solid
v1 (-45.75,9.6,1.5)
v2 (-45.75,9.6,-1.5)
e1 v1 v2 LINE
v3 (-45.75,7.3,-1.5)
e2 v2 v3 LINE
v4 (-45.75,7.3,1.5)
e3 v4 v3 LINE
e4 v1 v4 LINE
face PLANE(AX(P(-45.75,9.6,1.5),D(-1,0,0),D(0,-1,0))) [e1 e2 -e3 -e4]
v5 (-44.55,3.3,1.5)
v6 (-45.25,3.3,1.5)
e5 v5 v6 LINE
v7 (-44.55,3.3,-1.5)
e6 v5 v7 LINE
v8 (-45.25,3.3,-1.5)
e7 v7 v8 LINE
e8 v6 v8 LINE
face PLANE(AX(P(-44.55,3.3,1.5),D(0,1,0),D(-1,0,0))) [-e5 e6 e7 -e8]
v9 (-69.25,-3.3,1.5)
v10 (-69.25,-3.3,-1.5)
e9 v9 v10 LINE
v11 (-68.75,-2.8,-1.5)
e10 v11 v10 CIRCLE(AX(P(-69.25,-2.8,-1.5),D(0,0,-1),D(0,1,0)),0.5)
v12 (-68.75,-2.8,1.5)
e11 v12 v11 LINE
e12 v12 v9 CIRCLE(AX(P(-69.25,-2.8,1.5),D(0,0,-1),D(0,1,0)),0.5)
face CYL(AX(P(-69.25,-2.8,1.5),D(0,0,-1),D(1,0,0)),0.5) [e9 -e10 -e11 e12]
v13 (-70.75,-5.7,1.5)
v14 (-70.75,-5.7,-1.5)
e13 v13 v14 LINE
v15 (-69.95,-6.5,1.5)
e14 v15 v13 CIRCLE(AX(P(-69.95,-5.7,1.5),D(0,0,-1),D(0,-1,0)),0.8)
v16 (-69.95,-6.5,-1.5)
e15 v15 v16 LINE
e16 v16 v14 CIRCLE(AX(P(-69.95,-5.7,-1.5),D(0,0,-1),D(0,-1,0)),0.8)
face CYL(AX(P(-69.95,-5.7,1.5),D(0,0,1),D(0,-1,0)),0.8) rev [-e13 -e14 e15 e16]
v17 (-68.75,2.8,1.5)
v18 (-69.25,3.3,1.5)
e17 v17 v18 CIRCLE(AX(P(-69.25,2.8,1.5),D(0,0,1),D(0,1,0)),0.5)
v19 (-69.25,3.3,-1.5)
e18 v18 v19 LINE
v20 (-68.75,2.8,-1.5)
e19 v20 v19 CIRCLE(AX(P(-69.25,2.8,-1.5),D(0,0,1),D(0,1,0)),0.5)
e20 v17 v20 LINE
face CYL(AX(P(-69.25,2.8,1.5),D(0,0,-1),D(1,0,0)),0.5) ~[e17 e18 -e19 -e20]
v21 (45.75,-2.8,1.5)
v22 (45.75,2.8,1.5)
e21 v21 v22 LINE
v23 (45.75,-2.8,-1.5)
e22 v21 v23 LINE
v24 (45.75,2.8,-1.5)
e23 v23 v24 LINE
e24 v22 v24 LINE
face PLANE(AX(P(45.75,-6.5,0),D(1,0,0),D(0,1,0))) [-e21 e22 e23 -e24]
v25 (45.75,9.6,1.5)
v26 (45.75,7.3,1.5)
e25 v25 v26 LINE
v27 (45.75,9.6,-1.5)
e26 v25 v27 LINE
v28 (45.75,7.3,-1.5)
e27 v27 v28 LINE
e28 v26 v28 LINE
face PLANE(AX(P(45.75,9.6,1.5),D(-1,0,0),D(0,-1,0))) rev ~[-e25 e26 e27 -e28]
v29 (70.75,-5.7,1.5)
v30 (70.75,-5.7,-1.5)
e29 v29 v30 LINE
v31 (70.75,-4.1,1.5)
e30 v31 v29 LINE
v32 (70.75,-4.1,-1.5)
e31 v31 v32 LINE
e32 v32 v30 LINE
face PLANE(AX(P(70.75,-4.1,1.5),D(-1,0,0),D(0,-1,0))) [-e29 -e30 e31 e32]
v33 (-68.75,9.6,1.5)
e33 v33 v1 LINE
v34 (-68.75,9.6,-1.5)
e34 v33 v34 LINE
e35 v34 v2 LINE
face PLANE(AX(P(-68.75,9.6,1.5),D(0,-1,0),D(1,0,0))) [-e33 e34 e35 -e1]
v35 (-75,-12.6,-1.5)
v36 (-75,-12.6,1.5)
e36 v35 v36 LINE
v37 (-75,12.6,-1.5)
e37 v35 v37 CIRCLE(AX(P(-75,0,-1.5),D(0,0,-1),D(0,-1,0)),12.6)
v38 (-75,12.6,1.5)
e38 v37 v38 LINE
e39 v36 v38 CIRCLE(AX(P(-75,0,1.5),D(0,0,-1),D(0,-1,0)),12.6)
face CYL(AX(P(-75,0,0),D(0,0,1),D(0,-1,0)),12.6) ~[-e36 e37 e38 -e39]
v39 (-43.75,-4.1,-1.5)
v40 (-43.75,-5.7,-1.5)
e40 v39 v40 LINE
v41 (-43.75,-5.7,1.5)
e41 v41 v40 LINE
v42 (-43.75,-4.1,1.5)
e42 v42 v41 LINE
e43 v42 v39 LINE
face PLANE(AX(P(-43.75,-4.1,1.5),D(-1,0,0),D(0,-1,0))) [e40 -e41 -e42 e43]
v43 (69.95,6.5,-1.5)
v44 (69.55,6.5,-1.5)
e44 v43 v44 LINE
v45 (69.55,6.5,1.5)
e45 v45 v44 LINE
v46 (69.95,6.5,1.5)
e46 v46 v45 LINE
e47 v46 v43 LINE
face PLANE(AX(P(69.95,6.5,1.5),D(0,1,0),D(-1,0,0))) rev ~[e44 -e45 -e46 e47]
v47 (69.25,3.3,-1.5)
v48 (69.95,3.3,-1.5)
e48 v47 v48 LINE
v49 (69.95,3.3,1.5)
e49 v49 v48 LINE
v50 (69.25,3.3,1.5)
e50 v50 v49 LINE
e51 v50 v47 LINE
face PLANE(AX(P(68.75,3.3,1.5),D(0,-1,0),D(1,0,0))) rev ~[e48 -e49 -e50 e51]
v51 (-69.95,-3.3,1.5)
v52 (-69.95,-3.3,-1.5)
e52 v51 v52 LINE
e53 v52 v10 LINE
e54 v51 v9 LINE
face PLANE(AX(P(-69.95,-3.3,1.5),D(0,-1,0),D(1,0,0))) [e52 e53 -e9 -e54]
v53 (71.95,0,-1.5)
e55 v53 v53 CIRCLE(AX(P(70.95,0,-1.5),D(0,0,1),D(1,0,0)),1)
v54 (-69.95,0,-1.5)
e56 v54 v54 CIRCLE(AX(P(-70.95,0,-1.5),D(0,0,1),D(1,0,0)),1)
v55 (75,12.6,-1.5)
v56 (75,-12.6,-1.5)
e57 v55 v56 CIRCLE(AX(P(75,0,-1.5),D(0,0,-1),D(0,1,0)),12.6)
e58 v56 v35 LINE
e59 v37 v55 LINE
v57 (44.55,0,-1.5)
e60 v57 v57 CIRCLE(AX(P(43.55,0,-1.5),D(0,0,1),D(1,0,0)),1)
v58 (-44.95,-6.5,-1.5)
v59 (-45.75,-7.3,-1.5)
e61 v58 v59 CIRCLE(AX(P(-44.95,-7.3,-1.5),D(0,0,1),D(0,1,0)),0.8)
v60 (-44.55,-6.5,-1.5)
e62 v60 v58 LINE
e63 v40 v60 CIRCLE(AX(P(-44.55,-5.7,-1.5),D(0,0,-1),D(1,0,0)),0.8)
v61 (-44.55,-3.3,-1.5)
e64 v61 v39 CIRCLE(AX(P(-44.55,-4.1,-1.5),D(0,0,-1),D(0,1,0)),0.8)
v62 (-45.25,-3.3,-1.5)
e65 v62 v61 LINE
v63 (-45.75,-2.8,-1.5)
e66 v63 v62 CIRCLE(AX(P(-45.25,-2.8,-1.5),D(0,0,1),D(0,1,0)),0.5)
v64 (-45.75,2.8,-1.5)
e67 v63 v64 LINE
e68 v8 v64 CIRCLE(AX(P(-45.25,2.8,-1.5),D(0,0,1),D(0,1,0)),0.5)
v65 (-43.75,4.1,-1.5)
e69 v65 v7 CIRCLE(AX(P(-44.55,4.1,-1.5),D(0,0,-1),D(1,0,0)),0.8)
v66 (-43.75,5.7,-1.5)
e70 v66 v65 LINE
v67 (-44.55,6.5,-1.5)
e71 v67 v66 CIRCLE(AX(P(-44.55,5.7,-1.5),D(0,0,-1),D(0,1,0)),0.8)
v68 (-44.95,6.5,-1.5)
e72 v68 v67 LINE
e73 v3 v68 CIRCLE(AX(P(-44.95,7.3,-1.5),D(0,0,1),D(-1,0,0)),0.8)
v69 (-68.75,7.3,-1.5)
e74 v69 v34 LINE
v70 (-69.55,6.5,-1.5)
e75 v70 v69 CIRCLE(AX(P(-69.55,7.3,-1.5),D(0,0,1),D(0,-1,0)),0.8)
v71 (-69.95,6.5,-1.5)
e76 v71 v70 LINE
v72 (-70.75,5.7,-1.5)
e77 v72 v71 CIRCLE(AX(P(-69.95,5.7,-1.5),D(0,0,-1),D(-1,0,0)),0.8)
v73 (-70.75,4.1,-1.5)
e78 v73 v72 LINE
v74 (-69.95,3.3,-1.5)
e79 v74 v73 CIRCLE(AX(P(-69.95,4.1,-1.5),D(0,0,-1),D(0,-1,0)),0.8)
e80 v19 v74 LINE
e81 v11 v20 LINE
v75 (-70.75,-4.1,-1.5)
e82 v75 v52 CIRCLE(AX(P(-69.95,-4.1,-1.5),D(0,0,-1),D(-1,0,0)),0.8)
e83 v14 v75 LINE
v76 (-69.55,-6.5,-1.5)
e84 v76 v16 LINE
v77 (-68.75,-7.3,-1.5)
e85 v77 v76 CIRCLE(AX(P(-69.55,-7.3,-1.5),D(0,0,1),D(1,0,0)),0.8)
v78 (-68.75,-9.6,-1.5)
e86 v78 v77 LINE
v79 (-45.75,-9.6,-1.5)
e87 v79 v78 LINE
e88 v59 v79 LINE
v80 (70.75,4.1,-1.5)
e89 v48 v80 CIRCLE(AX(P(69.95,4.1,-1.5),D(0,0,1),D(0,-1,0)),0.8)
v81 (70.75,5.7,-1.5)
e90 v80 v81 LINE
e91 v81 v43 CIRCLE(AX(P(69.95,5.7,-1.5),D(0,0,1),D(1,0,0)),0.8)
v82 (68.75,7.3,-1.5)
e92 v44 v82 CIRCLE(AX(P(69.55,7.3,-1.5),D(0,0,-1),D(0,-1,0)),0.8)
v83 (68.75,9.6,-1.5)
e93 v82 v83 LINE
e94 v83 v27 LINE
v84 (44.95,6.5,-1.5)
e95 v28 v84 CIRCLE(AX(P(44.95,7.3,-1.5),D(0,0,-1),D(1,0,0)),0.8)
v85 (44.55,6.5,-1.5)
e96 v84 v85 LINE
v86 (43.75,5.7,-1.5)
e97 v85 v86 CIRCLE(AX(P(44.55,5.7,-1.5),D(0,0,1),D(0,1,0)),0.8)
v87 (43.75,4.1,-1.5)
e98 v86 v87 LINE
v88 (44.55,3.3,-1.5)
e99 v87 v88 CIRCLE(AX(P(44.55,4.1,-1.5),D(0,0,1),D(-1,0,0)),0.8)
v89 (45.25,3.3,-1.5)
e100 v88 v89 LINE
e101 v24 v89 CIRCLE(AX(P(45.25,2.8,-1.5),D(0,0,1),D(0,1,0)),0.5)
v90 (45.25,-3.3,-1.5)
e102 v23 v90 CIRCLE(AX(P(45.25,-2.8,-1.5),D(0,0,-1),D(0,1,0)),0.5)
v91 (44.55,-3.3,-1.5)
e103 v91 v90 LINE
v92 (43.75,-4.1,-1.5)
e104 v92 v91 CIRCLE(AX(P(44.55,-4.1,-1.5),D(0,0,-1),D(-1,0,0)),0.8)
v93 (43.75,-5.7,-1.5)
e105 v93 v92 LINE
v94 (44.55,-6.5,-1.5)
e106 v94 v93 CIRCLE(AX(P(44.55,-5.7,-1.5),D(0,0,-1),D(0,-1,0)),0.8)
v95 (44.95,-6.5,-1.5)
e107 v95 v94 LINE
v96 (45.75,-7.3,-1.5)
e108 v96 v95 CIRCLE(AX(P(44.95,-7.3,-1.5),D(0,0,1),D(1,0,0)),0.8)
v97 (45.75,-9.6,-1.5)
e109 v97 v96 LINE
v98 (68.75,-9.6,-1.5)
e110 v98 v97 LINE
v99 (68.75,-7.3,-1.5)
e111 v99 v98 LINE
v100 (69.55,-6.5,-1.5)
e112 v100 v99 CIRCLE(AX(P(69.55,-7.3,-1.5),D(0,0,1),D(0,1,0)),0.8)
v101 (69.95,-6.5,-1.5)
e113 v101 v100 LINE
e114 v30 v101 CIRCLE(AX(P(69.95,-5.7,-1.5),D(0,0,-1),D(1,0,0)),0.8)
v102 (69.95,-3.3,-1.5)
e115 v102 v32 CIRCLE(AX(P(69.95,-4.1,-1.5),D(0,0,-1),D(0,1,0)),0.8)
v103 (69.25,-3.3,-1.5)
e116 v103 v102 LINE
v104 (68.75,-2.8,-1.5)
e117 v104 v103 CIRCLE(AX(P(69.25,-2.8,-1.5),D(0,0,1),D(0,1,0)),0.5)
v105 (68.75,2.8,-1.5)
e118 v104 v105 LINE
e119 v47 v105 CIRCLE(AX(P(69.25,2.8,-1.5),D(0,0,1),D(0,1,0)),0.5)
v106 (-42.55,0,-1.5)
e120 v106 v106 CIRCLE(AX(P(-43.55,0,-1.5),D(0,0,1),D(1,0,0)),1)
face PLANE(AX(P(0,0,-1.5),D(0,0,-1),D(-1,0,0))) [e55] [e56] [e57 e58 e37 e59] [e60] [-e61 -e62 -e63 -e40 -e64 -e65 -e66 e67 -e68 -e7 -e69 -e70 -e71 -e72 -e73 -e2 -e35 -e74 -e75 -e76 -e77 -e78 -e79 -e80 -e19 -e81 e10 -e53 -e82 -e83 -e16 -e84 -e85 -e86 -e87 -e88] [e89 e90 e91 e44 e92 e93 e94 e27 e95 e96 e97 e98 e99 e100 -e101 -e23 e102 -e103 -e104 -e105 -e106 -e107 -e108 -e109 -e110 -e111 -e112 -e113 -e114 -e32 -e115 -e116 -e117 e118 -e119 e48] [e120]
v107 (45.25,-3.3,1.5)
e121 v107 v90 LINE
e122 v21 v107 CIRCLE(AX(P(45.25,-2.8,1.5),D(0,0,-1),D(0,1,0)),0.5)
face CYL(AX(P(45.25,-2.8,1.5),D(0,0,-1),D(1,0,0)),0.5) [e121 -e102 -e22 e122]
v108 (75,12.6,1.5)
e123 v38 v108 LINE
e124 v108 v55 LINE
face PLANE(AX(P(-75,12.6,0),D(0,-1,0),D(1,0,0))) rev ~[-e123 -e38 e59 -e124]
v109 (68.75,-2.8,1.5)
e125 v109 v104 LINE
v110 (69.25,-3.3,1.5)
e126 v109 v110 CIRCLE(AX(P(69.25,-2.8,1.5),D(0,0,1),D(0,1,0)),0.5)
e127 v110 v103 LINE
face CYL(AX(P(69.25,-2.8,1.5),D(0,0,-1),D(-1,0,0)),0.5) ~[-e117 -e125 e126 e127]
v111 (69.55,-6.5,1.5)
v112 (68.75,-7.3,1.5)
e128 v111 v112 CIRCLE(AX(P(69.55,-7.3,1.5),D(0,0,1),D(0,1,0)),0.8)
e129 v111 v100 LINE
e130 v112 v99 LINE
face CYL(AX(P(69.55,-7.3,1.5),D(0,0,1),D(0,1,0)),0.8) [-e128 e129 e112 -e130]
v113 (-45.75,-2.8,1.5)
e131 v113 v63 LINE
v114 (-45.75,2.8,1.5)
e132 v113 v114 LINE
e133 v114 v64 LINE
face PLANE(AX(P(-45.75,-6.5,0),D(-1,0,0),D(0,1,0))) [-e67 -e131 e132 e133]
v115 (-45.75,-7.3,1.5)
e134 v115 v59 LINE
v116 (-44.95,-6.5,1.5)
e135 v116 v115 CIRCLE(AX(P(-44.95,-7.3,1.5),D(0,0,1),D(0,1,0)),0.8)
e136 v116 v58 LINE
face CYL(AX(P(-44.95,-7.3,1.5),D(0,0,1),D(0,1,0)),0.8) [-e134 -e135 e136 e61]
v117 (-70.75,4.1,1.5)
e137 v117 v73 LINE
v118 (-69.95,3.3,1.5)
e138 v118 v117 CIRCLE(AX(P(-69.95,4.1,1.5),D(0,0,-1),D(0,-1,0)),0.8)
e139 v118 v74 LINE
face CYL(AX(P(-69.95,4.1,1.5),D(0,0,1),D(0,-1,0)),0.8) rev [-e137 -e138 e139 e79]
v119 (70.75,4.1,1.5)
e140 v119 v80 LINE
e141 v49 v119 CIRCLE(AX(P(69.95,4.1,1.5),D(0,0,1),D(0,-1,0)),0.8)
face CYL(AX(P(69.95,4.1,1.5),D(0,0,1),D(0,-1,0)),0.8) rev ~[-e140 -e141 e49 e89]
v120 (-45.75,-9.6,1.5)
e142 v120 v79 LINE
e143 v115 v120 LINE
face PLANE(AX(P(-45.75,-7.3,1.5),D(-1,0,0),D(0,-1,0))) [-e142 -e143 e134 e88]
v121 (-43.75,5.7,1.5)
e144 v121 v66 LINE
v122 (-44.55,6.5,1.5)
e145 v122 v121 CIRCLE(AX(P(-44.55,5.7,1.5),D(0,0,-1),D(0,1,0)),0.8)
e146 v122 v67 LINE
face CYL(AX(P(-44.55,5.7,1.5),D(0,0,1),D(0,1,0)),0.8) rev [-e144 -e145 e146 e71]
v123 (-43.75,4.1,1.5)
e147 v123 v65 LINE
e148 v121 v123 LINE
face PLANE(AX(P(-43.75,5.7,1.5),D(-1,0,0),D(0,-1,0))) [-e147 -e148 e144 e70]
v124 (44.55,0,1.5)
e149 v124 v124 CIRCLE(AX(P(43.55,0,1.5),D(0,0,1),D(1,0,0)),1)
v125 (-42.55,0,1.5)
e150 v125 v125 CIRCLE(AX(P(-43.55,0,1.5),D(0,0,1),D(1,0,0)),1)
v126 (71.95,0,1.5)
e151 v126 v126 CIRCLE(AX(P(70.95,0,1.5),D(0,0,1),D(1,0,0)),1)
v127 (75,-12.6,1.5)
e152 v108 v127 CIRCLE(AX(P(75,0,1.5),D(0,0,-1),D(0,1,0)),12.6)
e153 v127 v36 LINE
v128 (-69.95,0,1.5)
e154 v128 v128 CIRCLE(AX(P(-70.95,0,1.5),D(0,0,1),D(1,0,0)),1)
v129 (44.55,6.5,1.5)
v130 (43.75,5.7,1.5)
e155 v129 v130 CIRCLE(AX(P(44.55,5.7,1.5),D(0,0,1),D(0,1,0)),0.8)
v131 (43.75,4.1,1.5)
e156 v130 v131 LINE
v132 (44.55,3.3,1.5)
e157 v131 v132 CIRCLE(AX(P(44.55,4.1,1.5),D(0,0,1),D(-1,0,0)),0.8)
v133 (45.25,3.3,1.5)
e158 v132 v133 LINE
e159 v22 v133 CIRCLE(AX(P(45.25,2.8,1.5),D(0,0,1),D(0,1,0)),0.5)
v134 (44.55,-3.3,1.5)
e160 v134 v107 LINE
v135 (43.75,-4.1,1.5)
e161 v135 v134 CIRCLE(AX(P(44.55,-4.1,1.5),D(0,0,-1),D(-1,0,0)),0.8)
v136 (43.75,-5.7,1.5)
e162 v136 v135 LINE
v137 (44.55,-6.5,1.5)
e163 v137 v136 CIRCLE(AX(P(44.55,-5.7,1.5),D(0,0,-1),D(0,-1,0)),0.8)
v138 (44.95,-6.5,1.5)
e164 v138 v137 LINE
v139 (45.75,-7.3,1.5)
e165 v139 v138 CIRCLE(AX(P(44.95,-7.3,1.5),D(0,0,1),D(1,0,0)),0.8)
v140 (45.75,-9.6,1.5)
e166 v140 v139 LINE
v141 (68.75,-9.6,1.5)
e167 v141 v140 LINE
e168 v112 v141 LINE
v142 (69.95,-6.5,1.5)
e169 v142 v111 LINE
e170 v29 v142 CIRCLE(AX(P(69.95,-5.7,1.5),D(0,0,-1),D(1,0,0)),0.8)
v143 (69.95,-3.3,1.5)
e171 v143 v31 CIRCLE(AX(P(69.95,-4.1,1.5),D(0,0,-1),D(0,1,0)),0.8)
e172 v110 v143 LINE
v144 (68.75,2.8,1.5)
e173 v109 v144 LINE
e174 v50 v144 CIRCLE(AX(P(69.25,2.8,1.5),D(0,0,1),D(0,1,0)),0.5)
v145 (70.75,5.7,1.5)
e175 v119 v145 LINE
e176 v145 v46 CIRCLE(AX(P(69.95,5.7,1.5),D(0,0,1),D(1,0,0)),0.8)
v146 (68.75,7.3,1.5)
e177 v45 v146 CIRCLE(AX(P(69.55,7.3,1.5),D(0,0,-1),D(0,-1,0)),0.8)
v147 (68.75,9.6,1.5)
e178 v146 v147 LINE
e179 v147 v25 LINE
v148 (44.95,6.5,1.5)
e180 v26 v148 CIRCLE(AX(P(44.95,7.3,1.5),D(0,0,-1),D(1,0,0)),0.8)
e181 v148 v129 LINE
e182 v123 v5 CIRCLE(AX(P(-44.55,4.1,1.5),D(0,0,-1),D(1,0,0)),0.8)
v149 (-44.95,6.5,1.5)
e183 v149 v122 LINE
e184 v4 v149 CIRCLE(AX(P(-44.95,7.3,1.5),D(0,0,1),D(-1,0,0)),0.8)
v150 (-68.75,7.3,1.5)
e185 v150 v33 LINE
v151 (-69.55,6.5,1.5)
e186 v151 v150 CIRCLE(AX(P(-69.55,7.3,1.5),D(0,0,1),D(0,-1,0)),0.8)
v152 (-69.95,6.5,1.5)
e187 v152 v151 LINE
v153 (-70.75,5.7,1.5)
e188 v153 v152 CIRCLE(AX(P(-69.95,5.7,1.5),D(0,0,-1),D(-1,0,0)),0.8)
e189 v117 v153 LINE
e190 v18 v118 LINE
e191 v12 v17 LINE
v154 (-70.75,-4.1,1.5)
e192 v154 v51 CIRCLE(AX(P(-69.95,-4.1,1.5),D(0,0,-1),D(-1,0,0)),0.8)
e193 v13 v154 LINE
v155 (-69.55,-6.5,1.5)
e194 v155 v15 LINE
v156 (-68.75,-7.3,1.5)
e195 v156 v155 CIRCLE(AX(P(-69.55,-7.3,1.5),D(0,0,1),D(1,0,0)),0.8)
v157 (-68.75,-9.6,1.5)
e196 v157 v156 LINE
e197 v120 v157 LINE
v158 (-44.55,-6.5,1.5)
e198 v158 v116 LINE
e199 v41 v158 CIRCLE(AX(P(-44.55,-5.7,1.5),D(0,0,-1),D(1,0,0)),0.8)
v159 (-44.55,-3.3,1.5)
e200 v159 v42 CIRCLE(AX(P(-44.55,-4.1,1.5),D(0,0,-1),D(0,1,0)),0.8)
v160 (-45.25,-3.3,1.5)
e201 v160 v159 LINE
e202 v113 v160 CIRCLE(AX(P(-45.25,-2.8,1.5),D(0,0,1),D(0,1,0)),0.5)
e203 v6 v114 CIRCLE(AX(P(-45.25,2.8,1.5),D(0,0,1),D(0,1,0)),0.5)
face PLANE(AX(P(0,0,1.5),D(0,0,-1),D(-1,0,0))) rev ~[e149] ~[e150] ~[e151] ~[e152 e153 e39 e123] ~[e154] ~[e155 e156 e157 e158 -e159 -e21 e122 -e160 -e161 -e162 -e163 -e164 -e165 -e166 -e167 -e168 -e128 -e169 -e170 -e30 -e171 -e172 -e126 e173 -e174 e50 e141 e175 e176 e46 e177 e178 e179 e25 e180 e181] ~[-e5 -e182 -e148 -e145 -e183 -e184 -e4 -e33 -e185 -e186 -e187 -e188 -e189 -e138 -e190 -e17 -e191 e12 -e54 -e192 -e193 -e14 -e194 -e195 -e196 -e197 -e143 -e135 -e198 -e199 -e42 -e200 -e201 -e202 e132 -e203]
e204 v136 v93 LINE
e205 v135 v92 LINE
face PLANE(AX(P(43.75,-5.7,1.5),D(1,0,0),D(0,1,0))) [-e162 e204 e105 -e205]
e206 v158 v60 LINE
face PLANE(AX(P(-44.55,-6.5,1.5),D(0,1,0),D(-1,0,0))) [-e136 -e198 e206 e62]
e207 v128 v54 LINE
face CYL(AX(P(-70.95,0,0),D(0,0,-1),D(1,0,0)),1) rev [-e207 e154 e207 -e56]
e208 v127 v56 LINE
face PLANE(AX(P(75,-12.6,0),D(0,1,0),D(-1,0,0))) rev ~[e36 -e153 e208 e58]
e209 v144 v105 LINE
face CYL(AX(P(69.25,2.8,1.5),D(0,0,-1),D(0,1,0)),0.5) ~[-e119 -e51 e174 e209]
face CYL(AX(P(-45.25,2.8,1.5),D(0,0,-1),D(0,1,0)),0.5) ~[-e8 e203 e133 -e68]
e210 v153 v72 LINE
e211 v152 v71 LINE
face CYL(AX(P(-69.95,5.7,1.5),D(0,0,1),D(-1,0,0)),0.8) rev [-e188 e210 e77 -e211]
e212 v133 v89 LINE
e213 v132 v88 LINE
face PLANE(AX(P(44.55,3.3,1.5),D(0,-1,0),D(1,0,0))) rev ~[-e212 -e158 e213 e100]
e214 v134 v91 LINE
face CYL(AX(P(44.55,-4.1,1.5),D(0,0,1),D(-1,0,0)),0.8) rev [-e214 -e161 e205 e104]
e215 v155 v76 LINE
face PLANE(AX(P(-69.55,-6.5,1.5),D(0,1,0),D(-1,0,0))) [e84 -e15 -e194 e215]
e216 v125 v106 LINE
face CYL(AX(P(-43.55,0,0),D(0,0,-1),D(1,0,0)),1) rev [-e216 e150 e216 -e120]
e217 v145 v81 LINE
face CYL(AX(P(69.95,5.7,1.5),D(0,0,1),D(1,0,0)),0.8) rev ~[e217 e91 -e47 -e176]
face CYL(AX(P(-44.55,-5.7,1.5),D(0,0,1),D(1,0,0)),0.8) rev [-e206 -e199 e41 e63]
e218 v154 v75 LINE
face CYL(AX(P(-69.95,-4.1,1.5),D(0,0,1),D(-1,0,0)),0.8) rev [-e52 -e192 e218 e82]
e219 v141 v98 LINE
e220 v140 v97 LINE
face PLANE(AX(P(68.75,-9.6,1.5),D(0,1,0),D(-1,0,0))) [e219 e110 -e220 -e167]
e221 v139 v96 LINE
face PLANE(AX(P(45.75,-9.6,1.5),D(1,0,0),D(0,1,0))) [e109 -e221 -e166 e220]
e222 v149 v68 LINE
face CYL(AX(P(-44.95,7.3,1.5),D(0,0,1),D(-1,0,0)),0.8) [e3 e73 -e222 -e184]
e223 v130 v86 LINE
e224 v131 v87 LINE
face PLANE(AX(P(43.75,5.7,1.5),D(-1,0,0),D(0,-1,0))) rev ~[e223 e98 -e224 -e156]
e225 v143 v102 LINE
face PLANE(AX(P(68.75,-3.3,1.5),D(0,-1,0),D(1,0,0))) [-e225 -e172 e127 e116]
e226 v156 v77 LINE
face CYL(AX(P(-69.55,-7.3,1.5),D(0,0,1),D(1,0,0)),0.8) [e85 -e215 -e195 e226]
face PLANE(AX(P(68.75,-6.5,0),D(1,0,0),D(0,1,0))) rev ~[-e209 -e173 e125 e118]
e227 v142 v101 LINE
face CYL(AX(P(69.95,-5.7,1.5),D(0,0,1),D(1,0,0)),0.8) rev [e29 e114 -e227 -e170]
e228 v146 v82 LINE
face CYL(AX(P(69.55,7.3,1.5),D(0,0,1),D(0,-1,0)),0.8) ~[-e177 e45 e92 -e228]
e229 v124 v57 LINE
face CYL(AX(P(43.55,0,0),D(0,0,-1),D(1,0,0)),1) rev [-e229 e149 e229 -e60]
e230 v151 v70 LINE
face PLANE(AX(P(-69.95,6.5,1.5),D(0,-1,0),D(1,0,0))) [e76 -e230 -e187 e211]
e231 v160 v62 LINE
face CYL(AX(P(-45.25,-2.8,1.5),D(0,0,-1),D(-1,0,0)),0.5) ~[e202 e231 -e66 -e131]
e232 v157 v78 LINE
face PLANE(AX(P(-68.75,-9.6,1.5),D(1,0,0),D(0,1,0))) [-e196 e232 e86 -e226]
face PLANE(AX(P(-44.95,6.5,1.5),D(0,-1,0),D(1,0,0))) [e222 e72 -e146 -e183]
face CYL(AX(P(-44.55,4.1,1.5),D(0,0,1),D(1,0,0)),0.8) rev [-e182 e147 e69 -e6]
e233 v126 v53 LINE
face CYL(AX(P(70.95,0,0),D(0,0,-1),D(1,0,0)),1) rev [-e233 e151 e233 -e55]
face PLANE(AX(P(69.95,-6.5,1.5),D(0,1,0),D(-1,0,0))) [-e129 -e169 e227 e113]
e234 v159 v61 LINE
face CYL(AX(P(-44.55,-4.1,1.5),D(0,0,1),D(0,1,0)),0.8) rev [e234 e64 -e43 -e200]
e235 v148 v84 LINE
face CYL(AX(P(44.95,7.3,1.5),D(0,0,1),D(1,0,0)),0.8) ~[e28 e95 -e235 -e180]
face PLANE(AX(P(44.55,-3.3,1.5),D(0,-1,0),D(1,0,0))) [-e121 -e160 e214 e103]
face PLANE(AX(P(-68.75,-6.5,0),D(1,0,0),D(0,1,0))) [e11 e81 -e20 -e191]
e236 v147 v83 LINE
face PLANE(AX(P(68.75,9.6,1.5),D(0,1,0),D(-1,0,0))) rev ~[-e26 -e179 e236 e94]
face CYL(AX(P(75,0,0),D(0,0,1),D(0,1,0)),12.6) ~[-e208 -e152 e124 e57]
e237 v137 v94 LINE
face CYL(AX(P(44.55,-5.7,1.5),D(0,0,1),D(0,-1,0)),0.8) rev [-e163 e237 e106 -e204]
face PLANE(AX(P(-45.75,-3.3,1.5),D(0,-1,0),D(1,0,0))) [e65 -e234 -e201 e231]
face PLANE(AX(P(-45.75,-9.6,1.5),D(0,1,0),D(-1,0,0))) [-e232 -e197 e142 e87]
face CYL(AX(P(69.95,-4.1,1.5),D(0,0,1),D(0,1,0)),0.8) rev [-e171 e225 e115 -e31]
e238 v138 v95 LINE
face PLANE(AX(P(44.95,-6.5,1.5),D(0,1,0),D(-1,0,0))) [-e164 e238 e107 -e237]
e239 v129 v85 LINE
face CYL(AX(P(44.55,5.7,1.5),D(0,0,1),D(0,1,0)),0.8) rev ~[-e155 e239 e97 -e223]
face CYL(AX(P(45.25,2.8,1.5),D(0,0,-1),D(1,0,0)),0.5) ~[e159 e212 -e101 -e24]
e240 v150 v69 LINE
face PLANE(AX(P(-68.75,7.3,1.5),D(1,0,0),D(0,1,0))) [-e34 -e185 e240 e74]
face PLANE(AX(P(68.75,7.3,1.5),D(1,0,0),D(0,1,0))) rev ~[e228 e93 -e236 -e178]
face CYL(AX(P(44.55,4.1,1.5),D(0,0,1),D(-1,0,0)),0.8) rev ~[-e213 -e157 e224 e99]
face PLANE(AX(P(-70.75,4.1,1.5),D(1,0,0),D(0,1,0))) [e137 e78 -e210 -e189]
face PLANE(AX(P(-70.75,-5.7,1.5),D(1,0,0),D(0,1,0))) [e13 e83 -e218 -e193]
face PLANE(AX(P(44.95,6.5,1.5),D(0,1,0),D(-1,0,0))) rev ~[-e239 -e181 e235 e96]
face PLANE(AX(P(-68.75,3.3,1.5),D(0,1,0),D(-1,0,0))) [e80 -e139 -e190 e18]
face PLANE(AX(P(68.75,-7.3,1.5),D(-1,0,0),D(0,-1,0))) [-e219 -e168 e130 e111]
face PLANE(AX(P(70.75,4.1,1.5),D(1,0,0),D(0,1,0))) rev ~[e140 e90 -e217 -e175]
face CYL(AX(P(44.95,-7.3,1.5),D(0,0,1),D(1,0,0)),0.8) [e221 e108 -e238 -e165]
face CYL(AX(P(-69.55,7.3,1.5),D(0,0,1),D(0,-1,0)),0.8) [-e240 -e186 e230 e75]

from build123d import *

# Parameters (mm, degrees)
SKETCH_1_R          = 1
SKETCH_1_W          = 23
SKETCH_1_H          = 13
EXTRUDE_1_DEPTH     = 1.5
CUT_EXTRUDE_1_DEPTH = 3
FILLET_1_R          = 0.5


with BuildPart() as part:
    # 草图1 → 凸台-拉伸1 (new body, symmetric)
    with BuildSketch(Plane.XY):
        with BuildLine():
            Line((-75, 12.6), (75, 12.6))
            ThreePointArc((75, 12.6), (87.6, 0), (75, -12.6))
            Line((75, -12.6), (-75, -12.6))
            ThreePointArc((-75, -12.6), (-87.6, 0), (-75, 12.6))
        make_face()
        with Locations((-43.55, 0)):
            Circle(SKETCH_1_R, mode=Mode.SUBTRACT)
        with Locations((-70.95, 0)):
            Circle(SKETCH_1_R, mode=Mode.SUBTRACT)
        with Locations((70.95, 0)):
            Circle(SKETCH_1_R, mode=Mode.SUBTRACT)
        with Locations((43.55, 0)):
            Circle(SKETCH_1_R, mode=Mode.SUBTRACT)
        with Locations((-57.25, 0)):
            Rectangle(SKETCH_1_W, SKETCH_1_H, mode=Mode.SUBTRACT)
        with Locations((57.25, 0)):
            Rectangle(SKETCH_1_W, SKETCH_1_H, mode=Mode.SUBTRACT)
    extrude(amount=EXTRUDE_1_DEPTH, both=True)

    # 草图2 → 切除-拉伸1 (cut)
    with BuildSketch(Plane.XY.offset(1.5)):
        with BuildLine():
            Line((44.95, 6.5), (44.55, 6.5))
            ThreePointArc((44.55, 6.5), (43.984314575, 6.265685425), (43.75, 5.7))
            Line((43.75, 5.7), (43.75, 4.1))
            ThreePointArc((43.75, 4.1), (43.984314575, 3.534314575), (44.55, 3.3))
            Line((44.55, 3.3), (45.75, 3.3))
            Line((45.75, 3.3), (45.75, 6.5))
            Line((45.75, 6.5), (68.75, 6.5))
            Line((68.75, 6.5), (68.75, 3.3))
            Line((68.75, 3.3), (69.95, 3.3))
            ThreePointArc((69.95, 3.3), (70.515685425, 3.534314575), (70.75, 4.1))
            Line((70.75, 4.1), (70.75, 5.7))
            ThreePointArc((70.75, 5.7), (70.515685425, 6.265685425), (69.95, 6.5))
            Line((69.95, 6.5), (69.55, 6.5))
            ThreePointArc((69.55, 6.5), (68.984314575, 6.734314575), (68.75, 7.3))
            Line((68.75, 7.3), (68.75, 9.6))
            Line((68.75, 9.6), (45.75, 9.6))
            Line((45.75, 9.6), (45.75, 7.3))
            ThreePointArc((45.75, 7.3), (45.515685425, 6.734314575), (44.95, 6.5))
        make_face()
        with BuildLine():
            Line((44.55, -3.3), (45.75, -3.3))
            Line((45.75, -3.3), (45.75, -6.5))
            Line((45.75, -6.5), (68.75, -6.5))
            Line((68.75, -6.5), (68.75, -3.3))
            Line((68.75, -3.3), (69.95, -3.3))
            ThreePointArc((69.95, -3.3), (70.515685425, -3.534314575), (70.75, -4.1))
            Line((70.75, -4.1), (70.75, -5.7))
            ThreePointArc((70.75, -5.7), (70.515685425, -6.265685425), (69.95, -6.5))
            Line((69.95, -6.5), (69.55, -6.5))
            ThreePointArc((69.55, -6.5), (68.984314575, -6.734314575), (68.75, -7.3))
            Line((68.75, -7.3), (68.75, -9.6))
            Line((68.75, -9.6), (45.75, -9.6))
            Line((45.75, -9.6), (45.75, -7.3))
            ThreePointArc((45.75, -7.3), (45.515685425, -6.734314575), (44.95, -6.5))
            Line((44.95, -6.5), (44.55, -6.5))
            ThreePointArc((44.55, -6.5), (43.984314575, -6.265685425), (43.75, -5.7))
            Line((43.75, -5.7), (43.75, -4.1))
            ThreePointArc((43.75, -4.1), (43.984314575, -3.534314575), (44.55, -3.3))
        make_face()
        with BuildLine():
            Line((-45.75, 3.3), (-45.75, 6.5))
            Line((-45.75, 6.5), (-68.75, 6.5))
            Line((-68.75, 6.5), (-68.75, 3.3))
            Line((-68.75, 3.3), (-69.95, 3.3))
            ThreePointArc((-69.95, 3.3), (-70.515685425, 3.534314575), (-70.75, 4.1))
            Line((-70.75, 4.1), (-70.75, 5.7))
            ThreePointArc((-70.75, 5.7), (-70.515685425, 6.265685425), (-69.95, 6.5))
            Line((-69.95, 6.5), (-69.55, 6.5))
            ThreePointArc((-69.55, 6.5), (-68.984314575, 6.734314575), (-68.75, 7.3))
            Line((-68.75, 7.3), (-68.75, 9.6))
            Line((-68.75, 9.6), (-45.75, 9.6))
            Line((-45.75, 9.6), (-45.75, 7.3))
            ThreePointArc((-45.75, 7.3), (-45.515685425, 6.734314575), (-44.95, 6.5))
            Line((-44.95, 6.5), (-44.55, 6.5))
            ThreePointArc((-44.55, 6.5), (-43.984314575, 6.265685425), (-43.75, 5.7))
            Line((-43.75, 5.7), (-43.75, 4.1))
            ThreePointArc((-43.75, 4.1), (-43.984314575, 3.534314575), (-44.55, 3.3))
            Line((-44.55, 3.3), (-45.75, 3.3))
        make_face()
        with BuildLine():
            Line((-45.75, -7.3), (-45.75, -9.6))
            Line((-45.75, -9.6), (-68.75, -9.6))
            Line((-68.75, -9.6), (-68.75, -7.3))
            ThreePointArc((-68.75, -7.3), (-68.984314575, -6.734314575), (-69.55, -6.5))
            Line((-69.55, -6.5), (-69.95, -6.5))
            ThreePointArc((-69.95, -6.5), (-70.515685425, -6.265685425), (-70.75, -5.7))
            Line((-70.75, -5.7), (-70.75, -4.1))
            ThreePointArc((-70.75, -4.1), (-70.515685425, -3.534314575), (-69.95, -3.3))
            Line((-69.95, -3.3), (-68.75, -3.3))
            Line((-68.75, -3.3), (-68.75, -6.5))
            Line((-68.75, -6.5), (-45.75, -6.5))
            Line((-45.75, -6.5), (-45.75, -3.3))
            Line((-45.75, -3.3), (-44.55, -3.3))
            ThreePointArc((-44.55, -3.3), (-43.984314575, -3.534314575), (-43.75, -4.1))
            Line((-43.75, -4.1), (-43.75, -5.7))
            ThreePointArc((-43.75, -5.7), (-43.984314575, -6.265685425), (-44.55, -6.5))
            Line((-44.55, -6.5), (-44.95, -6.5))
            ThreePointArc((-44.95, -6.5), (-45.515685425, -6.734314575), (-45.75, -7.3))
        make_face()
    extrude(amount=-CUT_EXTRUDE_1_DEPTH, mode=Mode.SUBTRACT)

    # 圆角1
    fillet_1_edges = [part.edges().sort_by_distance(p)[0] for p in [
        (45.75, -3.3, 0),
        (68.75, -3.3, 0),
        (-45.75, 3.3, 0),
        (-68.75, 3.3, 0),
        (-68.75, -3.3, 0),
        (-45.75, -3.3, 0),
        (45.75, 3.3, 0),
        (68.75, 3.3, 0),
    ]]
    fillet(fillet_1_edges, radius=FILLET_1_R)


solid = part.part
